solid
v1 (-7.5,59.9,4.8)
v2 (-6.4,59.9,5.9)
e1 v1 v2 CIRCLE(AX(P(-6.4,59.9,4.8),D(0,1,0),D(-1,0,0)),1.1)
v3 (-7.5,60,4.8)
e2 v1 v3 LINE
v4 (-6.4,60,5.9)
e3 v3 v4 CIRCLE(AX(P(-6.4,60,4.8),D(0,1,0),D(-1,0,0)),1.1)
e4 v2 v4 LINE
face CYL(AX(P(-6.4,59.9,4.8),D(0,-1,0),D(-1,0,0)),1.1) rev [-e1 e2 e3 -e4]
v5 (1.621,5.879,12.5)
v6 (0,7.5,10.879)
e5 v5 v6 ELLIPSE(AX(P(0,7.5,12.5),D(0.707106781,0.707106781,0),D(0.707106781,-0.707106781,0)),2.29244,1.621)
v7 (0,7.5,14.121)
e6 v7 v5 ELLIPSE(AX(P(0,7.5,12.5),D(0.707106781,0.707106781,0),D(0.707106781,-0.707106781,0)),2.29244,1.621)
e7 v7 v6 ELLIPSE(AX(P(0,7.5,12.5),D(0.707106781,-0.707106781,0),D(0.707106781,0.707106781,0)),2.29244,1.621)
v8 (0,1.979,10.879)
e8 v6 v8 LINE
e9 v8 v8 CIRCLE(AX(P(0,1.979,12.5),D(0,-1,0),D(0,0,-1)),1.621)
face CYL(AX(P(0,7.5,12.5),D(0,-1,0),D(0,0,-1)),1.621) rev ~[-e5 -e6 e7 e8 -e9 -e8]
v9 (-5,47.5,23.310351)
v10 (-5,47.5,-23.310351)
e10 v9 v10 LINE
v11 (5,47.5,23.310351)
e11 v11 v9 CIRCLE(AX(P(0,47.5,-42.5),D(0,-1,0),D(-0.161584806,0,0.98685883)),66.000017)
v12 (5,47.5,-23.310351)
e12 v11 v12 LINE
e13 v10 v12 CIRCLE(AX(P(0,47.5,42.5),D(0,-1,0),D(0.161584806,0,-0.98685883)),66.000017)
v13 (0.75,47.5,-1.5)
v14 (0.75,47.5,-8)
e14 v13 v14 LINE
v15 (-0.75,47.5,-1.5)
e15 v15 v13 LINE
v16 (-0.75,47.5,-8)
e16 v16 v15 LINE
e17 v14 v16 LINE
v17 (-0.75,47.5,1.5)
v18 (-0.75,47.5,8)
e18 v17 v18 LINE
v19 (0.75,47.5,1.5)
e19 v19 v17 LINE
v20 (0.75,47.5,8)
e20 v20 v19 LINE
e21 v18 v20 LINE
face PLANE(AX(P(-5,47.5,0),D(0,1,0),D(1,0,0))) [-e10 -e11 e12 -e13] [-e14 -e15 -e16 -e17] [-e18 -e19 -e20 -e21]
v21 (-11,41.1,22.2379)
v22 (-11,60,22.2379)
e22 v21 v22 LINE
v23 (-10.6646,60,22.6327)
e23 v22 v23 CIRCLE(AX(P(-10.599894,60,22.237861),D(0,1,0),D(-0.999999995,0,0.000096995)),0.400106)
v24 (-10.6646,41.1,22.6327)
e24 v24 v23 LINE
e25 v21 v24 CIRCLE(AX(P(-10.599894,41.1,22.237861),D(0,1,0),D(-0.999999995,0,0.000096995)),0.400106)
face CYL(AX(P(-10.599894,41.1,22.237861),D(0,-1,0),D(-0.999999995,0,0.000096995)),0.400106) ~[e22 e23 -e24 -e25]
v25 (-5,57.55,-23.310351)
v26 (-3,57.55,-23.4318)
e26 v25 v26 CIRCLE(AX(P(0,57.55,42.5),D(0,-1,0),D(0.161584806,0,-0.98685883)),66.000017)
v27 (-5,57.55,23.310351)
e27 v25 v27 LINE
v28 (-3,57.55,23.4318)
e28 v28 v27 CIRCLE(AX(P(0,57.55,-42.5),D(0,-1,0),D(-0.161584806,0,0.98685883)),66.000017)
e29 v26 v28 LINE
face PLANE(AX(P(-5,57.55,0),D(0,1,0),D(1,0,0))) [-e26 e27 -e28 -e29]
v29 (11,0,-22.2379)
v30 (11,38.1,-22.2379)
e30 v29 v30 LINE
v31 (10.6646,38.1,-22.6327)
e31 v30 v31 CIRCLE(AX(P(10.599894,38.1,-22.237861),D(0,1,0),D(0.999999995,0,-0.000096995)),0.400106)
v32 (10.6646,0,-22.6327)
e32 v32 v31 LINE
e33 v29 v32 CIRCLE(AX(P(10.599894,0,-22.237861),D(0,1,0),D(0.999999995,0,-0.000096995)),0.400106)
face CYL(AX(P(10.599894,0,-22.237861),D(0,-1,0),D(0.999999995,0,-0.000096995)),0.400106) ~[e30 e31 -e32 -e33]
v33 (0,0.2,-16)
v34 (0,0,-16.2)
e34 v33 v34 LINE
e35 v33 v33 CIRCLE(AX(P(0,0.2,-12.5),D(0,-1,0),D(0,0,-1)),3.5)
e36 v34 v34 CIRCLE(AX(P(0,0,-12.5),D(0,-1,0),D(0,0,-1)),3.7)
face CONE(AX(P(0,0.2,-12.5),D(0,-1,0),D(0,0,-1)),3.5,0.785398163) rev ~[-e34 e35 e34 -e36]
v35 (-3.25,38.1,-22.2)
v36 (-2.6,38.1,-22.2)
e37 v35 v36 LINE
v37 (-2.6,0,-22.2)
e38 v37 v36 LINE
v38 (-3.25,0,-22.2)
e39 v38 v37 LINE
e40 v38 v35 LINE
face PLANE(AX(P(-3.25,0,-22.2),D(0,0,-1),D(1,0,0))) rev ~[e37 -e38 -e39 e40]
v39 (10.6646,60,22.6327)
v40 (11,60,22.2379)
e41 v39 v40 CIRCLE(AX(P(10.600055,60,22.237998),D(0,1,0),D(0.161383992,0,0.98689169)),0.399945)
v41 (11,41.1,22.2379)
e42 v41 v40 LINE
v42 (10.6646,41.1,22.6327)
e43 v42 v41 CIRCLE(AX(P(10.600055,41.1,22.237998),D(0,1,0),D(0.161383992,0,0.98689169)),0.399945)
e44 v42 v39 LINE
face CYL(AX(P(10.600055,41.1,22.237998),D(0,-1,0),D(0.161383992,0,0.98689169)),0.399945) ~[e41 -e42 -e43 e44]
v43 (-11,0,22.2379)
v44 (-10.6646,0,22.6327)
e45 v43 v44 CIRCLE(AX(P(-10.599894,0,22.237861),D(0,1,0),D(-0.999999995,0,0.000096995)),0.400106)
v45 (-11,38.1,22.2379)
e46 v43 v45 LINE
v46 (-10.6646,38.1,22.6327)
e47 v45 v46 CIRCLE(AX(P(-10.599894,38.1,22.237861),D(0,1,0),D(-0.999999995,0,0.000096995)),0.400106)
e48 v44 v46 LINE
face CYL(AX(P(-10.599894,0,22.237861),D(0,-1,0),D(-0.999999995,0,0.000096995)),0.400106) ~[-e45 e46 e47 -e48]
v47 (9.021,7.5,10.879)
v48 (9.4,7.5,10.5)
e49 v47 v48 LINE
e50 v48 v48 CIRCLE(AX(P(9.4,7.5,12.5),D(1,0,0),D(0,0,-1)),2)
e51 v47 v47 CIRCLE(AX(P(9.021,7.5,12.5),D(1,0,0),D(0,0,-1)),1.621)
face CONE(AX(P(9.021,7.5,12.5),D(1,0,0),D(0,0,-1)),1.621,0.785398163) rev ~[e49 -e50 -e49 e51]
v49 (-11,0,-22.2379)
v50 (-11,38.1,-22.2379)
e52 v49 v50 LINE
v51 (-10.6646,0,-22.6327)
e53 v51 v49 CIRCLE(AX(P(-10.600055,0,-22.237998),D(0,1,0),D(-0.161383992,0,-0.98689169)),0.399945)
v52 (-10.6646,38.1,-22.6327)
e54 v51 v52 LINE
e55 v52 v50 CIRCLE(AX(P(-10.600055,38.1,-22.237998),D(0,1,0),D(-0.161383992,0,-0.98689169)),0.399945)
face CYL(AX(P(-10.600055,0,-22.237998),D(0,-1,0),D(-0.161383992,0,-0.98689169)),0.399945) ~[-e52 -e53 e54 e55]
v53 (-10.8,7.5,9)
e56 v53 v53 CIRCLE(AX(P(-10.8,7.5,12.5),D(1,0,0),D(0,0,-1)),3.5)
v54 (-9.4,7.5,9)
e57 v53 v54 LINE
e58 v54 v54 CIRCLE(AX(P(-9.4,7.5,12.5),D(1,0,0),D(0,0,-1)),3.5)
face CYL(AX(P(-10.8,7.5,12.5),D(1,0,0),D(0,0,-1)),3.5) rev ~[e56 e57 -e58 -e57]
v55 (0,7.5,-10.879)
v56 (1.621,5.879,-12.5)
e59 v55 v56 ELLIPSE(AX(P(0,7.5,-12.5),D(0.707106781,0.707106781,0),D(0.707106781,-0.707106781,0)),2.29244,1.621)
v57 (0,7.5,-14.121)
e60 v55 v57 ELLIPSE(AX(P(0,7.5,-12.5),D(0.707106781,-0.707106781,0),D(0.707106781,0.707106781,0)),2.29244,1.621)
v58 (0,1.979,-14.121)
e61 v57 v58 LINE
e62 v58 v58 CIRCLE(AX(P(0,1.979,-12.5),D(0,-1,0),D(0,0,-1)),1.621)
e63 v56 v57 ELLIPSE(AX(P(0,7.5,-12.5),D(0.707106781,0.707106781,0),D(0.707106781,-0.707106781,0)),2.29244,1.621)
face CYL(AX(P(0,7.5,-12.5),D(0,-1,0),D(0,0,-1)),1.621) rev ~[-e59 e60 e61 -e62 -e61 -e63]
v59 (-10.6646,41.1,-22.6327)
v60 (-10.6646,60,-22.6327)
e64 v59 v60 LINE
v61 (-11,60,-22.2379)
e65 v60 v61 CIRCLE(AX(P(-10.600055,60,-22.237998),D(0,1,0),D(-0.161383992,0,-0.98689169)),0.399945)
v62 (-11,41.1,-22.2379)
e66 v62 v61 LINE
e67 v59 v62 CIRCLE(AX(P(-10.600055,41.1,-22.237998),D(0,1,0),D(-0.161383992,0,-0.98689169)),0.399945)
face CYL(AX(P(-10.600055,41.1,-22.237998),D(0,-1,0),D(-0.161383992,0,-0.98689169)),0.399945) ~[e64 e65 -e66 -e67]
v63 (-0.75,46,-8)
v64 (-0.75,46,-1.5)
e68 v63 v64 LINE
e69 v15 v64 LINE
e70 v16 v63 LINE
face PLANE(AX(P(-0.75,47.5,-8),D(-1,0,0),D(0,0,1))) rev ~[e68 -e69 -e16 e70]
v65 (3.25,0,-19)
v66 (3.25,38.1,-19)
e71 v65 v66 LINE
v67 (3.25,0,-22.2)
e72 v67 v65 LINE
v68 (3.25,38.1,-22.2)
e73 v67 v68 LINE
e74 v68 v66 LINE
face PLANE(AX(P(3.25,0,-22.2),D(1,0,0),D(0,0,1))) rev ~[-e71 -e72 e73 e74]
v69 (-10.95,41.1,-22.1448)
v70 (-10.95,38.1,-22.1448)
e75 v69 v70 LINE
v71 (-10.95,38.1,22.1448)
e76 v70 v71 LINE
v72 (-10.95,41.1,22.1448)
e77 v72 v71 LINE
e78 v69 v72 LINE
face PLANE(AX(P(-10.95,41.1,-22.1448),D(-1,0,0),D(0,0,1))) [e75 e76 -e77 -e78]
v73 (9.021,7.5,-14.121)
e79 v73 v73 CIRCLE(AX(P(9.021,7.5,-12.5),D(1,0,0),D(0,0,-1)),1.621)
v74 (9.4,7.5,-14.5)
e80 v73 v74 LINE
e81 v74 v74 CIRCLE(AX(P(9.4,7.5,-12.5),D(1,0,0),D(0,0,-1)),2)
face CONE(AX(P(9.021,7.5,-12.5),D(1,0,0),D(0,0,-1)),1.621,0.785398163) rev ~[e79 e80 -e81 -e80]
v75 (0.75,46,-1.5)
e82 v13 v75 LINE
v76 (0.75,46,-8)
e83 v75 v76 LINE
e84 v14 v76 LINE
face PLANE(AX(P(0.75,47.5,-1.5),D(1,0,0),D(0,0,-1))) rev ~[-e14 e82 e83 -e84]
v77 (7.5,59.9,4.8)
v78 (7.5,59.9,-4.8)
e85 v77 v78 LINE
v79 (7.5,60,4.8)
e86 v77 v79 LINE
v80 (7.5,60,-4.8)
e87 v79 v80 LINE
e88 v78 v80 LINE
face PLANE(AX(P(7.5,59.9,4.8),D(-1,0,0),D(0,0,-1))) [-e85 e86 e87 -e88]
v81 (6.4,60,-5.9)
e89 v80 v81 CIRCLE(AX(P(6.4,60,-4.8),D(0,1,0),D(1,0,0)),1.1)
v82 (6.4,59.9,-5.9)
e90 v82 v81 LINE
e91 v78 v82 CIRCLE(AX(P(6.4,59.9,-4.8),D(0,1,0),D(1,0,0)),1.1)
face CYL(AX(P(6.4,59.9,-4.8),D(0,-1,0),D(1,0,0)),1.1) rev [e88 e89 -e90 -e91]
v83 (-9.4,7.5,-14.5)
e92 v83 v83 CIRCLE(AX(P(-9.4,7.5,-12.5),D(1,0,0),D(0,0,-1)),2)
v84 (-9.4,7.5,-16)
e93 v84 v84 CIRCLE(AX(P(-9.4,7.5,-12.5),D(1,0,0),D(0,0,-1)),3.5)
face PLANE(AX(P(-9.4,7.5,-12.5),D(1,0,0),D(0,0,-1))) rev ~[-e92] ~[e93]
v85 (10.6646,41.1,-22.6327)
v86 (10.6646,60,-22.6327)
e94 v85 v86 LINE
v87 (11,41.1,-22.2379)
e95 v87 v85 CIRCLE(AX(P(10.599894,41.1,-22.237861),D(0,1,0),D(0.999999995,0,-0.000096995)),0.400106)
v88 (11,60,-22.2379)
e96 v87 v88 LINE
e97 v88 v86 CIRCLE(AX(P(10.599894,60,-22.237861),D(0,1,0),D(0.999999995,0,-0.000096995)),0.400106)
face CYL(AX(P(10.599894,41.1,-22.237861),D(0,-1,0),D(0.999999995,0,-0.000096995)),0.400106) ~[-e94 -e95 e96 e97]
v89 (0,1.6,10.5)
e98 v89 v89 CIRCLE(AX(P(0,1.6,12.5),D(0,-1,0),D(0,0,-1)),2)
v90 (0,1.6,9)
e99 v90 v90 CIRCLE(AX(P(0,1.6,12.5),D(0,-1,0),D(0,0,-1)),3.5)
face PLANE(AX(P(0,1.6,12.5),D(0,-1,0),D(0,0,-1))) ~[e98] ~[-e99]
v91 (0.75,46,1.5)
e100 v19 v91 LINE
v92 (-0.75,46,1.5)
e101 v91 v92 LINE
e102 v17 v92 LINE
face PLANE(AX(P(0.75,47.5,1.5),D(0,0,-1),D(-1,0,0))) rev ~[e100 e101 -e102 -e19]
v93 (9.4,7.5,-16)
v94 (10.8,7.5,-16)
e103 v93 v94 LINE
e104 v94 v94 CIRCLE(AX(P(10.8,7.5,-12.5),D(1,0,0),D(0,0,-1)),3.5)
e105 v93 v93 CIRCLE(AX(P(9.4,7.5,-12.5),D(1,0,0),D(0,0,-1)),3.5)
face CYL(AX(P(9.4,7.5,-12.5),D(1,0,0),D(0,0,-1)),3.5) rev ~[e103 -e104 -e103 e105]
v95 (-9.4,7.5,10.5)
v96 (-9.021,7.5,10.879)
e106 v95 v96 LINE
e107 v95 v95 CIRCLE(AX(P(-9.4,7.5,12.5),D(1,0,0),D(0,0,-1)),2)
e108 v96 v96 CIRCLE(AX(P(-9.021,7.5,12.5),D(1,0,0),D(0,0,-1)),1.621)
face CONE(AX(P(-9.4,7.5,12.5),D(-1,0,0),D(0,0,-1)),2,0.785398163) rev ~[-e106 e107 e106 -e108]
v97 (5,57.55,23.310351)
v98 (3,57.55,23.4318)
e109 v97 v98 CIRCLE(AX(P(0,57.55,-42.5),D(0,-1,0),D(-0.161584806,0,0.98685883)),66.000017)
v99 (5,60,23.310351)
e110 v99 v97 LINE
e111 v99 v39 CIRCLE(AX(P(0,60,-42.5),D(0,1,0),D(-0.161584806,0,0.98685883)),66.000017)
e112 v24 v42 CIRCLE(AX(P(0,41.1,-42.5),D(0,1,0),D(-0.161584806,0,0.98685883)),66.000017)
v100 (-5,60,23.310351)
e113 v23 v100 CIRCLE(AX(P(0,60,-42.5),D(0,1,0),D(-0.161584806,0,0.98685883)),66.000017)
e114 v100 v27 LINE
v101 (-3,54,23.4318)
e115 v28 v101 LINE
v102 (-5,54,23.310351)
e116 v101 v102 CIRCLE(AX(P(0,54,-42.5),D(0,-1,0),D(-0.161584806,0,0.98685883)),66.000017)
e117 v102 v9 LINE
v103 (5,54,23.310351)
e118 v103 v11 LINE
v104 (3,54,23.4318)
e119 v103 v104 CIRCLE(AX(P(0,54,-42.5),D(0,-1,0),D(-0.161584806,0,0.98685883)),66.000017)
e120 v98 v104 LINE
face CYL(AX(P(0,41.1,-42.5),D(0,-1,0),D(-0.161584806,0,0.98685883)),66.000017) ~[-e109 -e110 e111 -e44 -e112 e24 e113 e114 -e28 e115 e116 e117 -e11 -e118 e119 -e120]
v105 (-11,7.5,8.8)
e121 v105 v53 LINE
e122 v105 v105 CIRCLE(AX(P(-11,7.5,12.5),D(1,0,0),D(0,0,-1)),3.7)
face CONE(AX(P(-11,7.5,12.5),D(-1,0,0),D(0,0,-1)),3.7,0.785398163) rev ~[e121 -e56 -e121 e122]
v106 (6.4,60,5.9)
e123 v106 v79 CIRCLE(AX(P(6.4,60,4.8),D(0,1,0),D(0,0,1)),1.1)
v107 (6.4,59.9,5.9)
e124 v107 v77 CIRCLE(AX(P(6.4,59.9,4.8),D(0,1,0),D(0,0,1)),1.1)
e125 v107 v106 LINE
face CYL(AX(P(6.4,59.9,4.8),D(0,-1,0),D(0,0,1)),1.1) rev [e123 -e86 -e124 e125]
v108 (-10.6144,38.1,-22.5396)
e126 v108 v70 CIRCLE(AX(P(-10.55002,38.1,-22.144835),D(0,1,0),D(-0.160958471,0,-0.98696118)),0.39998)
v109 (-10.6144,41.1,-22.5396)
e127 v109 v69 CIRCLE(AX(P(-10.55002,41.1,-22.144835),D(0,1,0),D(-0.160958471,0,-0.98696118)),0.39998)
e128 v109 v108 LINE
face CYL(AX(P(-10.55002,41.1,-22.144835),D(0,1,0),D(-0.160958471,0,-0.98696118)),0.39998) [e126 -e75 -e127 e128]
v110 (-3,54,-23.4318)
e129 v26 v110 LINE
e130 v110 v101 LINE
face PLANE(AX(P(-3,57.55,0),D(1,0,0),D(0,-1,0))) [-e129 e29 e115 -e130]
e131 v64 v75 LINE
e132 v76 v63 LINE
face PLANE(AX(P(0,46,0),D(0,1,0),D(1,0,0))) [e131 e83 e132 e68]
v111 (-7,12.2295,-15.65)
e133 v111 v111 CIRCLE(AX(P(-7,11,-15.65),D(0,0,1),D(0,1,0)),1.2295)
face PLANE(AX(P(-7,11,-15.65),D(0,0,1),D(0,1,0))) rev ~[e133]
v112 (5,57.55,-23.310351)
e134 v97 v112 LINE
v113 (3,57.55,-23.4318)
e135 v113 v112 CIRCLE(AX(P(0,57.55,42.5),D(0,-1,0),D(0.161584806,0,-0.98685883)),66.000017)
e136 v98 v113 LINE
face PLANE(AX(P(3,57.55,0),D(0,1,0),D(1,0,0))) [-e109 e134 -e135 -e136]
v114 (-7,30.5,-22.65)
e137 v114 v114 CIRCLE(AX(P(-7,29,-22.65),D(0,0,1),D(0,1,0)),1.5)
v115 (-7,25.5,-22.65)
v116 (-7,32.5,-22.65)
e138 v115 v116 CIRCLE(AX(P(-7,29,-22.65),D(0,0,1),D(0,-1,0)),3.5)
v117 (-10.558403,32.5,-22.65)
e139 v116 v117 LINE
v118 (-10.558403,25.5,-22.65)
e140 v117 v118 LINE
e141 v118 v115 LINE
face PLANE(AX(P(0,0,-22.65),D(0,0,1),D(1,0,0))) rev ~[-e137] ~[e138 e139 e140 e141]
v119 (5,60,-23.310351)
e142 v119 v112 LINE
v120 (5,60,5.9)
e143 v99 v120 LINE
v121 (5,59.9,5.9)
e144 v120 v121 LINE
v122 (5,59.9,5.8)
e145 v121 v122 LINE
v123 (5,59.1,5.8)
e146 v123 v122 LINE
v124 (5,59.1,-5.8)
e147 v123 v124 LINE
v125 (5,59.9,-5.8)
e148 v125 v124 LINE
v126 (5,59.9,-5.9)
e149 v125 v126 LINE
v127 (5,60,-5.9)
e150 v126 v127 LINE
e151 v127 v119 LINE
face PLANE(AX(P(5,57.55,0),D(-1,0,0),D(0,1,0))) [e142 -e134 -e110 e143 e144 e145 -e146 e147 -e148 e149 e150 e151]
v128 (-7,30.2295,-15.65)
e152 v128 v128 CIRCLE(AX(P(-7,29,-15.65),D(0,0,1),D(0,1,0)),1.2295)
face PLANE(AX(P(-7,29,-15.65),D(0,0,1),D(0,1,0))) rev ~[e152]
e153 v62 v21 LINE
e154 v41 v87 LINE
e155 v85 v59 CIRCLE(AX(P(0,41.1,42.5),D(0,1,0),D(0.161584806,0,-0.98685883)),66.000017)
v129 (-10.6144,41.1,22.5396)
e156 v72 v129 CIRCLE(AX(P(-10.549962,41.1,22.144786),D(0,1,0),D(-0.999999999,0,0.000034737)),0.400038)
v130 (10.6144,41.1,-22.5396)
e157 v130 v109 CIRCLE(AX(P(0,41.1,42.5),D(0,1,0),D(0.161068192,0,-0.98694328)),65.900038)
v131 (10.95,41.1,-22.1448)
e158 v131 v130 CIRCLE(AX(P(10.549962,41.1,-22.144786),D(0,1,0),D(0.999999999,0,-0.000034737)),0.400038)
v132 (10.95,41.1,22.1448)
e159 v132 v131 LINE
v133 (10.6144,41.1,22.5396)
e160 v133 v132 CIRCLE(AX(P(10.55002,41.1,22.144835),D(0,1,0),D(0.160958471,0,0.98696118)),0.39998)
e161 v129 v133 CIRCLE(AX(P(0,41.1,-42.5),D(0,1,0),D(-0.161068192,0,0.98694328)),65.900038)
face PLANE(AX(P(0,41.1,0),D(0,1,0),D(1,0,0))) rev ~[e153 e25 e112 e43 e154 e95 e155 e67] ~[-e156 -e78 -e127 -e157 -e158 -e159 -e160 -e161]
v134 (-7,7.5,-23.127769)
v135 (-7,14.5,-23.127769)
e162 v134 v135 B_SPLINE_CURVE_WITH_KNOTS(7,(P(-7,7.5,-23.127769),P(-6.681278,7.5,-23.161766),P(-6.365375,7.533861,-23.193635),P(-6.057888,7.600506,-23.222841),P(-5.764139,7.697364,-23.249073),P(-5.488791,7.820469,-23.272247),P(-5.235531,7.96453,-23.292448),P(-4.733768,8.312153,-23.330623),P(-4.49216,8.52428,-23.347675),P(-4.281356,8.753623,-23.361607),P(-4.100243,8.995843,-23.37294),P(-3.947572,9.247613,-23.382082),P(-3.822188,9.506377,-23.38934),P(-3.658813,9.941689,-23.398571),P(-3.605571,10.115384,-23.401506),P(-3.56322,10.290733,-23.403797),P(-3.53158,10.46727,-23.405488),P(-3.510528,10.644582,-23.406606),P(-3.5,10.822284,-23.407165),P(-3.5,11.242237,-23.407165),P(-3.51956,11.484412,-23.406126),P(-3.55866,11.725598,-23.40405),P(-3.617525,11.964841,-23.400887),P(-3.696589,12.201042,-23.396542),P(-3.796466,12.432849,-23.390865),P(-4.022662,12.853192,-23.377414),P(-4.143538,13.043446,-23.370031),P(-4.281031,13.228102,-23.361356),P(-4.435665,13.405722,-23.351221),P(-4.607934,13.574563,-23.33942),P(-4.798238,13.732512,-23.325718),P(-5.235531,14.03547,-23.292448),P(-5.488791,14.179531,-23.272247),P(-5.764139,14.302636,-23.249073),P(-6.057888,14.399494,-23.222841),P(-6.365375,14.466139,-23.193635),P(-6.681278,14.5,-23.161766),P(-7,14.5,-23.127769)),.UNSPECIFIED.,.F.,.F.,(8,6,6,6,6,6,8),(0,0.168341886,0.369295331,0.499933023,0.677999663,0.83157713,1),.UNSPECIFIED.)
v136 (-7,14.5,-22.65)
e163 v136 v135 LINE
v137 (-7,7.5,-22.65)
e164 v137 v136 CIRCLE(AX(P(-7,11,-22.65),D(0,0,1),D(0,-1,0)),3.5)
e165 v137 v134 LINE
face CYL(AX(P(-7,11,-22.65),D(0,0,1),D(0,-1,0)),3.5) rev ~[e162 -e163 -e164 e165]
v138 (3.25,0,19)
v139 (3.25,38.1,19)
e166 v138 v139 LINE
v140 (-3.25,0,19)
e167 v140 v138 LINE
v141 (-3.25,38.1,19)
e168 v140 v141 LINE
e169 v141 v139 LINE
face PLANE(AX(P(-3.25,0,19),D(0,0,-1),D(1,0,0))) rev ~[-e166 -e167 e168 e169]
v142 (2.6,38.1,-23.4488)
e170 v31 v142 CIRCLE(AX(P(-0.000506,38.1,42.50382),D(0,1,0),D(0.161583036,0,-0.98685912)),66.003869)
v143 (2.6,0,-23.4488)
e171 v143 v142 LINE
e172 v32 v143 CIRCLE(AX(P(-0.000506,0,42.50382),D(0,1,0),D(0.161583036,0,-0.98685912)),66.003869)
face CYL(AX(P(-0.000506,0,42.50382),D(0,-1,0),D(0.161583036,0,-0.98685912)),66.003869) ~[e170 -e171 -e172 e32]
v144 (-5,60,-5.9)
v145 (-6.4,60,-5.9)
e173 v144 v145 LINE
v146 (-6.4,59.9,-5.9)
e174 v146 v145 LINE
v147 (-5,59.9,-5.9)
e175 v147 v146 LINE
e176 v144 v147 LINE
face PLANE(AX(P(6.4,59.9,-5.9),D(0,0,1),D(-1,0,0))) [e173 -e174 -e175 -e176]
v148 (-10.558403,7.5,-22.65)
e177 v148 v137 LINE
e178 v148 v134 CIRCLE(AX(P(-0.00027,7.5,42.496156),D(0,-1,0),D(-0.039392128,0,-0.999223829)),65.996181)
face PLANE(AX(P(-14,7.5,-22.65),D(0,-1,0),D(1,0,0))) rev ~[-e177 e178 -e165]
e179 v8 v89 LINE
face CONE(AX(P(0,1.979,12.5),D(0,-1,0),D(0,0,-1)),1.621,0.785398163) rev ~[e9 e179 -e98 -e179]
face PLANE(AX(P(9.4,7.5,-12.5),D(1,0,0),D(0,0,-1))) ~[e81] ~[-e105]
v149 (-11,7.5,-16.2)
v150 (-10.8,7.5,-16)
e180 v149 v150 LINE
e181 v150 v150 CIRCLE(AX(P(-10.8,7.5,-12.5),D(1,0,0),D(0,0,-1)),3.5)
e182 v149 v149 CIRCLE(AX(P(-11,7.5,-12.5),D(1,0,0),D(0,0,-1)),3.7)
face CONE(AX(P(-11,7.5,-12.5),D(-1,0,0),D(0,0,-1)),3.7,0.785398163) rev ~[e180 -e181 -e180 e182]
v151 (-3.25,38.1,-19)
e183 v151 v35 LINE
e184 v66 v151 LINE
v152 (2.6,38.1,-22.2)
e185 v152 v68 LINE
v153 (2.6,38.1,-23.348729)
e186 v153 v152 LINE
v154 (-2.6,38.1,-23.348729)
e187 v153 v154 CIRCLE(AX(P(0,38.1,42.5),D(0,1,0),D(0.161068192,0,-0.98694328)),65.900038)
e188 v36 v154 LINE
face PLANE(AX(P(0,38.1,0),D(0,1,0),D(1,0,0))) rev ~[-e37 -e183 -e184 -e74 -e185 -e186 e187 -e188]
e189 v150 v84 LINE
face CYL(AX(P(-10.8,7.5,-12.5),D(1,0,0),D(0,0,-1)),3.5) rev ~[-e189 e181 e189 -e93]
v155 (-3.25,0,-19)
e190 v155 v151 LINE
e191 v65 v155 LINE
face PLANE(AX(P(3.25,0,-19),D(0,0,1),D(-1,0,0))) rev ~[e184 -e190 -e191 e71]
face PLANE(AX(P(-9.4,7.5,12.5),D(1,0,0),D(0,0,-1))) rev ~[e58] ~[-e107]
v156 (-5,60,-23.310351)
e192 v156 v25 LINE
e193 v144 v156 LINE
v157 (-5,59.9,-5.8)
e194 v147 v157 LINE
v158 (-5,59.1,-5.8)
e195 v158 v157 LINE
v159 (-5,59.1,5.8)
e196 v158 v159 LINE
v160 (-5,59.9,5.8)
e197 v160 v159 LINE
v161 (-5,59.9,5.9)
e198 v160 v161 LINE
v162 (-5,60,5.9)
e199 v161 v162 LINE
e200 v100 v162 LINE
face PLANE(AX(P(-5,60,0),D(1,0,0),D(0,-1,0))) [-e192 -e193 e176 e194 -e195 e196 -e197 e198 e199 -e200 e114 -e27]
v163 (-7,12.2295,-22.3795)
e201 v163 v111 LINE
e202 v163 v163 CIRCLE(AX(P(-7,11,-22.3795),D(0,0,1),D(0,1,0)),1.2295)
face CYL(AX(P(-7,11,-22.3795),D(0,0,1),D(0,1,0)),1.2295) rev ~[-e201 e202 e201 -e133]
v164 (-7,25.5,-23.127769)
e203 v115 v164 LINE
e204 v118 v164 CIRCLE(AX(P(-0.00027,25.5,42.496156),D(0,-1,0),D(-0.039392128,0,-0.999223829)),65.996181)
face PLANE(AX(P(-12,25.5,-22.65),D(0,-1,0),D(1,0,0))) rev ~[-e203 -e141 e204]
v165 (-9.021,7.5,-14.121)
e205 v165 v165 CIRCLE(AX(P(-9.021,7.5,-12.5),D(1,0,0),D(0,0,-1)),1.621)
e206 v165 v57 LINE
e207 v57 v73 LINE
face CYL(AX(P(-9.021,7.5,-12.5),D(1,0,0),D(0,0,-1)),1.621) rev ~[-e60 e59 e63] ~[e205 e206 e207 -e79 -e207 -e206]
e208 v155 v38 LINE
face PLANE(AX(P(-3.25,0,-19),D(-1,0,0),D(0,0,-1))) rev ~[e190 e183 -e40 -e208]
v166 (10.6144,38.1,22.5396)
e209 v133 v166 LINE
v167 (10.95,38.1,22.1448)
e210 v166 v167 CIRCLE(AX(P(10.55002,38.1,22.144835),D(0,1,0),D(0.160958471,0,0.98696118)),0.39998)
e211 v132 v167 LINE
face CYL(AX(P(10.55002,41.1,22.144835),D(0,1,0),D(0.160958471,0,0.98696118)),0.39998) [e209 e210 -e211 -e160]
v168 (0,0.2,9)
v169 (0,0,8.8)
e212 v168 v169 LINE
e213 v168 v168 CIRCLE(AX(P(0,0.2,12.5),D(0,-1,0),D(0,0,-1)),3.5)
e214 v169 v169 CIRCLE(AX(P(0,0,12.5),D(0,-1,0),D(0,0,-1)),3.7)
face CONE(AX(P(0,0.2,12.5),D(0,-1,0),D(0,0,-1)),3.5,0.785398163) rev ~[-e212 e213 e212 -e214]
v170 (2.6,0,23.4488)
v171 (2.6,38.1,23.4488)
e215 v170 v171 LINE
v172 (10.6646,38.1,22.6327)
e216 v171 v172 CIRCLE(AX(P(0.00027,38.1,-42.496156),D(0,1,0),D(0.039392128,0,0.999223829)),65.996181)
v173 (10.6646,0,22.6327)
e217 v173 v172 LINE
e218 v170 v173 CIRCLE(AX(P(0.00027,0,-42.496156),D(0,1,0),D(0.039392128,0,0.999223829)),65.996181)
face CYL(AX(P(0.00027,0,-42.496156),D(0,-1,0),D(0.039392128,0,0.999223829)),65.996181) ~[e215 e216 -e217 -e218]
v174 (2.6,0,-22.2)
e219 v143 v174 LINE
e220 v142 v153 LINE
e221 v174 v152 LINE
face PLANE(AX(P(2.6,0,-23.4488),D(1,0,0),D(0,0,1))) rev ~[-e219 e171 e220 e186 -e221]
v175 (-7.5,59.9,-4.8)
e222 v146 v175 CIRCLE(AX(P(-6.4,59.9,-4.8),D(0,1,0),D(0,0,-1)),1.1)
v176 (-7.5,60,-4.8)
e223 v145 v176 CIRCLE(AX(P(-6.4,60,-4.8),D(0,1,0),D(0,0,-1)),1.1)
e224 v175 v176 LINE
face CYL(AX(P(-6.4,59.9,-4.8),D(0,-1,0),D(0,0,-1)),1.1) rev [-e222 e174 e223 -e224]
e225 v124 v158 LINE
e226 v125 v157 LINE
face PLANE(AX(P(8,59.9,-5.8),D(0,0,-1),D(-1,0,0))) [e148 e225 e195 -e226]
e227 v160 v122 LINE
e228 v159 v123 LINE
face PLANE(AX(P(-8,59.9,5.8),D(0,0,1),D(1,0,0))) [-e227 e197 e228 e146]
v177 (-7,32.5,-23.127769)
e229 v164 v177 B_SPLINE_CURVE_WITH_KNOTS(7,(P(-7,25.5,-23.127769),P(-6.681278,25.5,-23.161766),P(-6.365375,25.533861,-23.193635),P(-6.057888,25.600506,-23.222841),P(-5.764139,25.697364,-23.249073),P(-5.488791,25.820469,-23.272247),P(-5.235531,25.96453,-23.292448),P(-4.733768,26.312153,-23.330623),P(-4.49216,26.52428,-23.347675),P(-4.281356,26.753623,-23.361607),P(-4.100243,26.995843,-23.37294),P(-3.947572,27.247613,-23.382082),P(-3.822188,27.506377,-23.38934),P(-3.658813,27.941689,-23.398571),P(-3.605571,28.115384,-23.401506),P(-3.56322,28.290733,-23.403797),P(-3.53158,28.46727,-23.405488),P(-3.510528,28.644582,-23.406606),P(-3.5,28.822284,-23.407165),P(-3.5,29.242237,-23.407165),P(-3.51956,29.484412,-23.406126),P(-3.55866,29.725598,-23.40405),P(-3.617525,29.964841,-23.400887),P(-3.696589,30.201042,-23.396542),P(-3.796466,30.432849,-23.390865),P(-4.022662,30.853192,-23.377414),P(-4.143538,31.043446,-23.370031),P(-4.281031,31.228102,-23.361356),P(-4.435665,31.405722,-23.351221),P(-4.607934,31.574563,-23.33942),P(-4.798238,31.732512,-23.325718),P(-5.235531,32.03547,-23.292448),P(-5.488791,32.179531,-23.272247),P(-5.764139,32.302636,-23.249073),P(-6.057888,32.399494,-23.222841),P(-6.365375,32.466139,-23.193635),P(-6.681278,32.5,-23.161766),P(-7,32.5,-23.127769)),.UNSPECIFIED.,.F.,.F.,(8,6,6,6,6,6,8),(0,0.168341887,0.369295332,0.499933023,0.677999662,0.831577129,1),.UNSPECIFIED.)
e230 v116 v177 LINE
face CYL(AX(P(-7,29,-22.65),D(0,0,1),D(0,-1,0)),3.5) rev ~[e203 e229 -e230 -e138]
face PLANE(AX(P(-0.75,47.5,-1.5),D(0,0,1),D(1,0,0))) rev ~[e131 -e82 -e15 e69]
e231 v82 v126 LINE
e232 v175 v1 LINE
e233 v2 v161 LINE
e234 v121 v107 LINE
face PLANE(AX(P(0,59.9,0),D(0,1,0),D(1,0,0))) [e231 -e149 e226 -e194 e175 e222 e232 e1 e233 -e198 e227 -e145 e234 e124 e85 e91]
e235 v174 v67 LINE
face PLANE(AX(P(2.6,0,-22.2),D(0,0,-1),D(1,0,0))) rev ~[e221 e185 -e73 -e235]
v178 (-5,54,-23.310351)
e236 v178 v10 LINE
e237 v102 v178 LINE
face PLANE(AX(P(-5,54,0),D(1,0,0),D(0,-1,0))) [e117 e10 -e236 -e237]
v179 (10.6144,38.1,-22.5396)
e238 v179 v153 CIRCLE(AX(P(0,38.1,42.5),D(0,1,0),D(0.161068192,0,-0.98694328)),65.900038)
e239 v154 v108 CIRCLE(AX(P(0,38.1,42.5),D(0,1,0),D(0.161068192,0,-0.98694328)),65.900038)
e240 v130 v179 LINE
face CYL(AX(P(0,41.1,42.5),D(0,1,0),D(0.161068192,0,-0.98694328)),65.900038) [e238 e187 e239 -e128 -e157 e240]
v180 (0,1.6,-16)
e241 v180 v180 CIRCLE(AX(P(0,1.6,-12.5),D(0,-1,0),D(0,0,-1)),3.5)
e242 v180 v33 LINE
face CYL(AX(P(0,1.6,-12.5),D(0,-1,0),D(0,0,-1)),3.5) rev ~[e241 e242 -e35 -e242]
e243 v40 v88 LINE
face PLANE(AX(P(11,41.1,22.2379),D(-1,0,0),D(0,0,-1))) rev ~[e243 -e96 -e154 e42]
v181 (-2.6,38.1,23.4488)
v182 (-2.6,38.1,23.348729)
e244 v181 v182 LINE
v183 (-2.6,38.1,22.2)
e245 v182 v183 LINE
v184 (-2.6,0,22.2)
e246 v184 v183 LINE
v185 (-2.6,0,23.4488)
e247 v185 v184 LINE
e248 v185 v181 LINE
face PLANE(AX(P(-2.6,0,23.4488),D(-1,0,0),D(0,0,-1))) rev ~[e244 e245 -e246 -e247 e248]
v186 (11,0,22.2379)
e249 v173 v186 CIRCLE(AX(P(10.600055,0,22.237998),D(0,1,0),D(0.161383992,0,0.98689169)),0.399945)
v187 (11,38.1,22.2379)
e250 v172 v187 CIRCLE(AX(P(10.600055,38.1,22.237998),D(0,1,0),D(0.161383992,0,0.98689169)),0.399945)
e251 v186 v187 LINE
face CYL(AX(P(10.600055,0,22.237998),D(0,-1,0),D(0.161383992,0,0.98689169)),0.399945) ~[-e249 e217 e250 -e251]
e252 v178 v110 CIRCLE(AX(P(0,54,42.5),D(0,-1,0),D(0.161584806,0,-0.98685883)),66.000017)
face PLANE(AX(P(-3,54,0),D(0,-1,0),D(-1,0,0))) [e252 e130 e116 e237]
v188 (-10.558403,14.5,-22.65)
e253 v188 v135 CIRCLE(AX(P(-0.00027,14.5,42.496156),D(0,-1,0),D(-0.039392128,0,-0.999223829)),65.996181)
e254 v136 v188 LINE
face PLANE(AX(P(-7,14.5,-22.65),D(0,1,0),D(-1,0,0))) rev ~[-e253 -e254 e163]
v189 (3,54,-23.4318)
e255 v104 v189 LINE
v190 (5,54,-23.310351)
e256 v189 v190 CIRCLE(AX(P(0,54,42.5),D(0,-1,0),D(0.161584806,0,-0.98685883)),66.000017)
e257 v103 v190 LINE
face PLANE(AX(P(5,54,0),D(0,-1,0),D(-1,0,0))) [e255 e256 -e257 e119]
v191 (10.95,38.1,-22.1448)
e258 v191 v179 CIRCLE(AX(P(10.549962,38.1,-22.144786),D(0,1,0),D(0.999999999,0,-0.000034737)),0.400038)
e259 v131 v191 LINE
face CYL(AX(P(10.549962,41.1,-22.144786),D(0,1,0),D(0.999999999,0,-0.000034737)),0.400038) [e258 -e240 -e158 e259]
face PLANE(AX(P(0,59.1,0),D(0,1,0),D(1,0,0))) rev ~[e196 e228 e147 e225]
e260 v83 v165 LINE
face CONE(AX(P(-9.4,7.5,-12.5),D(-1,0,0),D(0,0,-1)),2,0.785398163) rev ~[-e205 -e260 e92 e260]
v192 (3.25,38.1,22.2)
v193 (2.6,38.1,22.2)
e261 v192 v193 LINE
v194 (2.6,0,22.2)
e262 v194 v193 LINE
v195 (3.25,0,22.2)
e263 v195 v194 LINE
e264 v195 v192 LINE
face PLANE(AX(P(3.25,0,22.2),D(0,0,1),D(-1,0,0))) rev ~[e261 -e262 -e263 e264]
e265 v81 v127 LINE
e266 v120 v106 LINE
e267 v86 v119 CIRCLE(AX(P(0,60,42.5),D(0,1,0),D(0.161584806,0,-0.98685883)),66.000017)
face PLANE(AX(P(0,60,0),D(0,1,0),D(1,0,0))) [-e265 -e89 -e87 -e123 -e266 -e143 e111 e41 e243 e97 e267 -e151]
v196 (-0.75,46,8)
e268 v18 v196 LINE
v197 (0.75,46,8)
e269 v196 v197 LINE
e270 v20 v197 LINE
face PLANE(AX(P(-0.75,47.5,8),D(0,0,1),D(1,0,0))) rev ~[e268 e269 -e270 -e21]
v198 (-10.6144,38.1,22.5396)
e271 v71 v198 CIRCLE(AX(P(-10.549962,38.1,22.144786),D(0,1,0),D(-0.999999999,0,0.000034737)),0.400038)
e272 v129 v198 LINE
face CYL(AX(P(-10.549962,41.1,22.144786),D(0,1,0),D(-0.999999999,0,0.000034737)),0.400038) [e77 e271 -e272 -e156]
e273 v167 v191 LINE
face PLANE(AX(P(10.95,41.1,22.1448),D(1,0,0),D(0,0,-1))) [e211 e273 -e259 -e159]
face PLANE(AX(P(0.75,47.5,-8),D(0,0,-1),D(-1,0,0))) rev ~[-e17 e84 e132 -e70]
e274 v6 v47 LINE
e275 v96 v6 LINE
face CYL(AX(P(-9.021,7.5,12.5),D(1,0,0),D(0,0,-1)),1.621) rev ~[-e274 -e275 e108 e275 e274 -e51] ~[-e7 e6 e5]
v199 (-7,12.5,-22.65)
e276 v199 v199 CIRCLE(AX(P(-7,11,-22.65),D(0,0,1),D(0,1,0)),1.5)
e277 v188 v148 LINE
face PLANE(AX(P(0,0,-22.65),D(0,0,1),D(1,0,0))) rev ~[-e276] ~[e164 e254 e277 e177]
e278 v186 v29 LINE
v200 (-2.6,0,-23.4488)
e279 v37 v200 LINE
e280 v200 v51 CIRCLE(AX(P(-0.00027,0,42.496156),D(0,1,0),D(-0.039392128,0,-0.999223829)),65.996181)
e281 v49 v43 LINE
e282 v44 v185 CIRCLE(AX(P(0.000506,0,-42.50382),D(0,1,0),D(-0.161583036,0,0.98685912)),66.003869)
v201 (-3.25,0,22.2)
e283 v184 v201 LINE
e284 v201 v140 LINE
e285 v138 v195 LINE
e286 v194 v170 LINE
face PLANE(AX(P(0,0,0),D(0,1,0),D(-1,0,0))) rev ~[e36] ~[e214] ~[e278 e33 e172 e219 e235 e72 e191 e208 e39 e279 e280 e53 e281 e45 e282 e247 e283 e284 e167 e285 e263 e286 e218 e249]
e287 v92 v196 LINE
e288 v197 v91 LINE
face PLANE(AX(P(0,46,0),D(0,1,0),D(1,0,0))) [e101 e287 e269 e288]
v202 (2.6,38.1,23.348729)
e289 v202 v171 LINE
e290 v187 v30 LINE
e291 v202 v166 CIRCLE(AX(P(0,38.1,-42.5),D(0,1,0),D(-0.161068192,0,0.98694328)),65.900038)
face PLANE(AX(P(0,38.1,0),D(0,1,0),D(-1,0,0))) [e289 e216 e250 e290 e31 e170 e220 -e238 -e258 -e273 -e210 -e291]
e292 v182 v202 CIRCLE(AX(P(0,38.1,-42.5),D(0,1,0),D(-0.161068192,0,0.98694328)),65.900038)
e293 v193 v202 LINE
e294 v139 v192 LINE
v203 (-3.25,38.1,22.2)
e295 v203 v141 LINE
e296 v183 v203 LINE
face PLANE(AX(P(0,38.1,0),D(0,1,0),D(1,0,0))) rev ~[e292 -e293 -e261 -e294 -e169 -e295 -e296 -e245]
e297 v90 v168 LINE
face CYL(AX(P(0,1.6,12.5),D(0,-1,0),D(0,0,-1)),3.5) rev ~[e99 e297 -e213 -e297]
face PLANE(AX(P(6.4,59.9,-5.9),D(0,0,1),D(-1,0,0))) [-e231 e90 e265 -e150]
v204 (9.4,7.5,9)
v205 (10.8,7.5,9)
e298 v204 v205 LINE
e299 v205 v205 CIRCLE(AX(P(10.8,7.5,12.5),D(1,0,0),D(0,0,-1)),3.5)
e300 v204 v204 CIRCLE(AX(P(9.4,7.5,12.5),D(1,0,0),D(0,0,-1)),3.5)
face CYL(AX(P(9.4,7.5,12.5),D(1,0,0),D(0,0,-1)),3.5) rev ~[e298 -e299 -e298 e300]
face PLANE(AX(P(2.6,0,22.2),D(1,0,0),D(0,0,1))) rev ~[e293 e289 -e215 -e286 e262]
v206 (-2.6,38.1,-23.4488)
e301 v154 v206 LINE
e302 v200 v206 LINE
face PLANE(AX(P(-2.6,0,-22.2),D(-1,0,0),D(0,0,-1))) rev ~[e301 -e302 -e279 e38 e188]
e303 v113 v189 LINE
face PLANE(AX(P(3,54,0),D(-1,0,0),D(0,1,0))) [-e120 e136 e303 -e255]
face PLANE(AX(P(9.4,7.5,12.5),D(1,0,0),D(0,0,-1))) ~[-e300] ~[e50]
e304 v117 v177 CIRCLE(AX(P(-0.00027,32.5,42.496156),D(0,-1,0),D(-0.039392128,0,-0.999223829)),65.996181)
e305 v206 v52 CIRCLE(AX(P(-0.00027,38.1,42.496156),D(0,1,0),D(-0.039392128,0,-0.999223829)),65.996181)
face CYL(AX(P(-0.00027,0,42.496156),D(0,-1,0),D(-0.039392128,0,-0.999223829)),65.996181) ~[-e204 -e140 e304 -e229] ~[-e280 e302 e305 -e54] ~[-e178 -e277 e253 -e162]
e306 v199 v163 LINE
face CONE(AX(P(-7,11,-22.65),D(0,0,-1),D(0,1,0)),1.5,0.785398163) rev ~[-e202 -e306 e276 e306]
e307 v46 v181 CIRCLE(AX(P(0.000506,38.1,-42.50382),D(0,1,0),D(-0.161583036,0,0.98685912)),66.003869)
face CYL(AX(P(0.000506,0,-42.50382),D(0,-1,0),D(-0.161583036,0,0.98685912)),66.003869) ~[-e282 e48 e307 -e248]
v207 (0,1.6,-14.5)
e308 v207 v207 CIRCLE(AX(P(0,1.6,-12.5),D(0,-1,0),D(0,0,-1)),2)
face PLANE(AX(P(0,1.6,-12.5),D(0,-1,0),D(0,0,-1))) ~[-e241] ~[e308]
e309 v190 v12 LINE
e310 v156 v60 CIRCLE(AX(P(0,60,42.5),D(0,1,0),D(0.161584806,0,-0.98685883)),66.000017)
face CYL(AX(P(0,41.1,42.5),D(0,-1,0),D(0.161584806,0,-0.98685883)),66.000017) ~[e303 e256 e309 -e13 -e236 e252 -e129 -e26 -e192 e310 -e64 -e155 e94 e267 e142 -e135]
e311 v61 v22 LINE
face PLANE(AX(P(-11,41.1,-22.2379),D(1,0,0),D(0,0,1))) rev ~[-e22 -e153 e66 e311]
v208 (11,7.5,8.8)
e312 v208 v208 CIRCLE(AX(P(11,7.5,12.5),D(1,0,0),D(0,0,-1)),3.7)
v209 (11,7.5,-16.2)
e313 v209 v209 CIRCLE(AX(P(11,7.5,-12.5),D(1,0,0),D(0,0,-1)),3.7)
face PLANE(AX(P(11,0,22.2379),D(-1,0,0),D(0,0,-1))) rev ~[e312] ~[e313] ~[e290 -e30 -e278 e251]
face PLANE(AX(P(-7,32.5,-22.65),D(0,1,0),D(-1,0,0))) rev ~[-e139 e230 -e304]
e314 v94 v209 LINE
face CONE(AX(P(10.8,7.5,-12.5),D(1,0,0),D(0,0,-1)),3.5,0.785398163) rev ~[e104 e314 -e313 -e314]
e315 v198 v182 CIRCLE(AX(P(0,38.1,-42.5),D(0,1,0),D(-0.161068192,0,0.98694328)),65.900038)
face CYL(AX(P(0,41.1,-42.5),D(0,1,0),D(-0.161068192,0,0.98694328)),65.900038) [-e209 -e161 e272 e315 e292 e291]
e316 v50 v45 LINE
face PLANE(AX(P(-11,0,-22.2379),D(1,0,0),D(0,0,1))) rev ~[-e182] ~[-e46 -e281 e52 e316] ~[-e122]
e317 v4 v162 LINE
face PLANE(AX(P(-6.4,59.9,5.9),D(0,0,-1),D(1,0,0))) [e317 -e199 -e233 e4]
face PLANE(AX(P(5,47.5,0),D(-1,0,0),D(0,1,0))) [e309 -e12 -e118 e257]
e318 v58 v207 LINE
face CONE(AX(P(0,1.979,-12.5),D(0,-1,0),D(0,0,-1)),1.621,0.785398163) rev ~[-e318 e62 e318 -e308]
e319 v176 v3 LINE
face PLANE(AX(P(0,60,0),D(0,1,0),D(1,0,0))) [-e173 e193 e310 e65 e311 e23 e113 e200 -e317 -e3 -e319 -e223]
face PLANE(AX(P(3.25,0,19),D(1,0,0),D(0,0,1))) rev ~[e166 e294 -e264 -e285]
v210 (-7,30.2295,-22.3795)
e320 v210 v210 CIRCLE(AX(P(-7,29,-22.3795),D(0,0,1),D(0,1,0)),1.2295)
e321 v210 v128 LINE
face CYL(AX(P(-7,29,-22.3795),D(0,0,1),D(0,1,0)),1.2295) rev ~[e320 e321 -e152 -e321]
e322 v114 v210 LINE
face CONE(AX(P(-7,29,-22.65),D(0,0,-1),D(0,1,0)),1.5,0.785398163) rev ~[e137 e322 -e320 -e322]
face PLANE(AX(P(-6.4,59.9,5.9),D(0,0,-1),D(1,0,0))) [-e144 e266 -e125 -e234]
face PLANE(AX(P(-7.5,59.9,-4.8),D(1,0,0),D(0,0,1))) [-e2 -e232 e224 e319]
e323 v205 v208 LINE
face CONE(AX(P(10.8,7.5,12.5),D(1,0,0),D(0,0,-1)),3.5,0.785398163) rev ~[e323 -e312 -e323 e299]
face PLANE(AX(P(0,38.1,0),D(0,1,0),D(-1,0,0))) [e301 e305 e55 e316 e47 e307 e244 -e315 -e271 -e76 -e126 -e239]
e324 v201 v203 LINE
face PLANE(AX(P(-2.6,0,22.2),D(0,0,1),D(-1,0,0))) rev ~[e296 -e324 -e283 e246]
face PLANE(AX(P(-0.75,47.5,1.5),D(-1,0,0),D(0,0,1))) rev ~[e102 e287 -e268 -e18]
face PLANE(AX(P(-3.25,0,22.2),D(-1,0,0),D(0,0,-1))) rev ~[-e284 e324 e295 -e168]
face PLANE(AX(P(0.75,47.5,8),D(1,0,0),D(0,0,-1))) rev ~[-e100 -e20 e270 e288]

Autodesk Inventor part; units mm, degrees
sketch "Sketch_1" plane through (0, 0, 0) normal (0, 1, 0) x (-1, 0, 0)
  line L0 (11, -22.2379) -> (11, 22.2379)
  arc A0 (11, 22.2379) -> (10.6646, 22.6327) centre (10.6, 22.2379) ccw
  arc A1 (10.6646, 22.6327) -> (2.6, 23.4488) centre (0, -42.5) ccw
  line L1 (2.6, 23.4488) -> (2.6, 22.2)
  line L2 (2.6, 22.2) -> (3.25, 22.2)
  line L3 (3.25, 22.2) -> (3.25, 19)
  line L4 (3.25, 19) -> (-3.25, 19)
  line L5 (-3.25, 19) -> (-3.25, 22.2)
  line L6 (-3.25, 22.2) -> (-2.6, 22.2)
  line L7 (-2.6, 22.2) -> (-2.6, 23.4488)
  arc A2 (-2.6, 23.4488) -> (-10.6646, 22.6327) centre (0, -42.5) ccw
  arc A3 (-10.6646, 22.6327) -> (-11, 22.2379) centre (-10.6, 22.2379) ccw
  line L8 (-11, 22.2379) -> (-11, -22.2379)
  arc A4 (-11, -22.2379) -> (-10.6646, -22.6327) centre (-10.6, -22.2379) ccw
  arc A5 (-10.6646, -22.6327) -> (-2.6, -23.4488) centre (0, 42.5) ccw
  line L9 (-2.6, -23.4488) -> (-2.6, -22.2)
  line L10 (-2.6, -22.2) -> (-3.25, -22.2)
  line L11 (-3.25, -22.2) -> (-3.25, -19)
  line L12 (-3.25, -19) -> (3.25, -19)
  line L13 (3.25, -19) -> (3.25, -22.2)
  line L14 (3.25, -22.2) -> (2.6, -22.2)
  line L15 (2.6, -22.2) -> (2.6, -23.4488)
  arc A6 (2.6, -23.4488) -> (10.6646, -22.6327) centre (0, 42.5) ccw
  arc A7 (10.6646, -22.6327) -> (11, -22.2379) centre (10.6, -22.2379) ccw
extrude "Extrusion1" add sketch "Sketch_1" along normal blind 38.1
sketch "Sketch_2" plane through (0, 41.1, 0) normal (0, 1, 0) x (1, 0, 0)
  line L0 (-10.95, 22.1448) -> (-10.95, -22.1448)
  arc A0 (-10.95, -22.1448) -> (-10.6144, -22.5396) centre (-10.55, -22.1448) ccw
  arc A1 (-10.6144, -22.5396) -> (10.6144, -22.5396) centre (0, 42.5) ccw
  arc A2 (10.6144, -22.5396) -> (10.95, -22.1448) centre (10.55, -22.1448) ccw
  line L1 (10.95, -22.1448) -> (10.95, 22.1448)
  arc A3 (10.95, 22.1448) -> (10.6144, 22.5396) centre (10.55, 22.1448) ccw
  arc A4 (10.6144, 22.5396) -> (-10.6144, 22.5396) centre (0, -42.5) ccw
  arc A5 (-10.6144, 22.5396) -> (-10.95, 22.1448) centre (-10.55, 22.1448) ccw
extrude "Extrusion2" add sketch "Sketch_2" against normal blind 3
sketch "Sketch_3" plane through (0, 41.1, 0) normal (0, 1, 0) x (1, 0, 0)
  line L0 (-11, 22.2379) -> (-11, -22.2379)
  arc A0 (-11, -22.2379) -> (-10.6646, -22.6327) centre (-10.6, -22.2379) ccw
  arc A1 (-10.6646, -22.6327) -> (10.6646, -22.6327) centre (0, 42.5) ccw
  arc A2 (10.6646, -22.6327) -> (11, -22.2379) centre (10.6, -22.2379) ccw
  line L1 (11, -22.2379) -> (11, 22.2379)
  arc A3 (11, 22.2379) -> (10.6646, 22.6327) centre (10.6, 22.2379) ccw
  arc A4 (10.6646, 22.6327) -> (-10.6646, 22.6327) centre (0, -42.5) ccw
  arc A5 (-10.6646, 22.6327) -> (-11, 22.2379) centre (-10.6, 22.2379) ccw
extrude "Extrusion3" add sketch "Sketch_3" along normal blind 18.9
sketch "Sketch_4" plane through (0, 0, 0) normal (0, 0, 1) x (1, 0, 0)
  line L0 (-5, 57.55) -> (-3, 57.55)
  line L1 (-3, 57.55) -> (-3, 54)
  line L2 (-3, 54) -> (-5, 54)
  line L3 (-5, 54) -> (-5, 47.5)
  line L4 (-5, 47.5) -> (5, 47.5)
  line L5 (5, 47.5) -> (5, 54)
  line L6 (5, 54) -> (3, 54)
  line L7 (3, 54) -> (3, 57.55)
  line L8 (3, 57.55) -> (5, 57.55)
  line L9 (5, 57.55) -> (5, 60)
  line L10 (5, 60) -> (-5, 60)
  line L11 (-5, 60) -> (-5, 57.55)
extrude "Extrusion4" cut sketch "Sketch_4" along normal mid plane 66
sketch "Sketch_5" plane through (0, 59.9, 0) normal (0, 1, 0) x (1, 0, 0)
  line L0 (-8, -5.8) -> (8, -5.8)
  line L1 (8, -5.8) -> (8, 5.8)
  line L2 (8, 5.8) -> (-8, 5.8)
  line L3 (-8, 5.8) -> (-8, -5.8)
extrude "Extrusion5" add sketch "Sketch_5" against normal blind 0.8
sketch "Sketch_15" plane through (0, 59.9, 0) normal (0, 1, 0) x (1, 0, 0)
  line L0 (-7.5, 4.8) -> (-7.5, -4.8)
  arc A0 (-7.5, -4.8) -> (-6.4, -5.9) centre (-6.4, -4.8) ccw
  line L1 (-6.4, -5.9) -> (6.4, -5.9)
  arc A1 (6.4, -5.9) -> (7.5, -4.8) centre (6.4, -4.8) ccw
  line L2 (7.5, -4.8) -> (7.5, 4.8)
  arc A2 (7.5, 4.8) -> (6.4, 5.9) centre (6.4, 4.8) ccw
  line L3 (6.4, 5.9) -> (-6.4, 5.9)
  arc A3 (-6.4, 5.9) -> (-7.5, 4.8) centre (-6.4, 4.8) ccw
extrude "Extrusion6" cut sketch "Sketch_15" along normal blind 0.1
sketch "Sketch_6" plane through (0, 7.5, 0) normal (0, 1, 0) x (1, 0, 0)
  line L0 (11, -12.5) -> (-11, -12.5)
  line L1 (-11, -12.5) -> (-11, -8.8)
  line L2 (-11, -8.8) -> (-10.8, -9)
  line L3 (-10.8, -9) -> (-9.4, -9)
  line L4 (-9.4, -9) -> (-9.4, -10.5)
  line L5 (-9.4, -10.5) -> (-9.021, -10.879)
  line L6 (-9.021, -10.879) -> (9.021, -10.879)
  line L7 (9.021, -10.879) -> (9.4, -10.5)
  line L8 (9.4, -10.5) -> (9.4, -9)
  line L9 (9.4, -9) -> (10.8, -9)
  line L10 (10.8, -9) -> (11, -8.8)
  line L11 (11, -8.8) -> (11, -12.5)
  line L12 (11, -12.5) -> (-11, -12.5)
revolve "Revolution1" cut sketch "Sketch_6" angle 360 about axis through (11, 7.5, 12.5) along (1, 0, 0)
thread "Thread1" size "M4x0.7" class "6H" standard "ISO Metric profile" full length
sketch "Sketch_7" plane through (0, 7.5, 0) normal (0, 1, 0) x (1, 0, 0)
  line L0 (11, 12.5) -> (-11, 12.5)
  line L1 (-11, 12.5) -> (-11, 16.2)
  line L2 (-11, 16.2) -> (-10.8, 16)
  line L3 (-10.8, 16) -> (-9.4, 16)
  line L4 (-9.4, 16) -> (-9.4, 14.5)
  line L5 (-9.4, 14.5) -> (-9.021, 14.121)
  line L6 (-9.021, 14.121) -> (9.021, 14.121)
  line L7 (9.021, 14.121) -> (9.4, 14.5)
  line L8 (9.4, 14.5) -> (9.4, 16)
  line L9 (9.4, 16) -> (10.8, 16)
  line L10 (10.8, 16) -> (11, 16.2)
  line L11 (11, 16.2) -> (11, 12.5)
  line L12 (11, 12.5) -> (-11, 12.5)
revolve "Revolution2" cut sketch "Sketch_7" angle 360 about axis through (11, 7.5, -12.5) along (1, 0, 0)
thread "Thread2" size "M4x0.7" class "6H" standard "ISO Metric profile" full length
sketch "Sketch_8" plane through (0, 0, -22.65) normal (0, 0, 1) x (1, 0, 0)
  line L0 (-14, 7.5) -> (-7, 7.5)
  arc A0 (-7, 7.5) -> (-7, 14.5) centre (-7, 11) ccw
  line L1 (-7, 14.5) -> (-12, 14.5)
  line L2 (-12, 14.5) -> (-12, 25.5)
  line L3 (-12, 25.5) -> (-7, 25.5)
  arc A1 (-7, 25.5) -> (-7, 32.5) centre (-7, 29) ccw
  line L4 (-7, 32.5) -> (-14, 32.5)
  line L5 (-14, 32.5) -> (-14, 7.5)
extrude "Extrusion7" cut sketch "Sketch_8" against normal blind 3
sketch "Sketch10" plane through (0, 0, -22.65) normal (0, 0, -1) x (-1, 0, 0)
  point P0 (7, 11)
hole "Hole1" at (-7, 11, -22.65) direction (0, 0, 1) diameter 2.459 depth 7 countersink diameter 3 countersink angle 90 thread size "M3x0.5" class "6H" standard "ISO Metric profile"
sketch "Sketch11" plane through (0, 0, -22.65) normal (0, 0, -1) x (-1, 0, 0)
  point P0 (7, 29)
hole "Hole2" at (-7, 29, -22.65) direction (0, 0, 1) diameter 2.459 depth 7 countersink diameter 3 countersink angle 90 thread size "M3x0.5" class "6H" standard "ISO Metric profile"
sketch "Sketch_11" plane through (0, 0, 0) normal (1, 0, 0) x (0, 0, -1)
  line L0 (-12.5, 0) -> (-12.5, 7.5)
  line L1 (-12.5, 7.5) -> (-10.879, 7.5)
  line L2 (-10.879, 7.5) -> (-10.879, 1.979)
  line L3 (-10.879, 1.979) -> (-10.5, 1.6)
  line L4 (-10.5, 1.6) -> (-9, 1.6)
  line L5 (-9, 1.6) -> (-9, 0.2)
  line L6 (-9, 0.2) -> (-8.8, 0)
  line L7 (-8.8, 0) -> (-12.5, 0)
  line L8 (-12.5, 0) -> (-12.5, 7.5)
revolve "Revolution3" cut sketch "Sketch_11" angle 360 about axis through (0, 0, 12.5) along (0, -1, 0)
thread "Thread3" size "M4x0.7" class "6H" standard "ISO Metric profile" full length
sketch "Sketch_12" plane through (0, 0, 0) normal (1, 0, 0) x (0, 0, -1)
  line L0 (12.5, 0) -> (12.5, 7.5)
  line L1 (12.5, 7.5) -> (14.121, 7.5)
  line L2 (14.121, 7.5) -> (14.121, 1.979)
  line L3 (14.121, 1.979) -> (14.5, 1.6)
  line L4 (14.5, 1.6) -> (16, 1.6)
  line L5 (16, 1.6) -> (16, 0.2)
  line L6 (16, 0.2) -> (16.2, 0)
  line L7 (16.2, 0) -> (12.5, 0)
  line L8 (12.5, 0) -> (12.5, 7.5)
revolve "Revolution4" cut sketch "Sketch_12" angle 360 about axis through (0, 0, -12.5) along (0, -1, 0)
thread "Thread4" size "M4x0.7" class "6H" standard "ISO Metric profile" full length
sketch "Sketch_17" plane through (0, 47.5, 0) normal (0, 1, 0) x (1, 0, 0)
  line L0 (-0.75, 8) -> (-0.75, 1.5)
  line L1 (-0.75, 1.5) -> (0.75, 1.5)
  line L2 (0.75, 1.5) -> (0.75, 8)
  line L3 (0.75, 8) -> (-0.75, 8)
extrude "Extrusion8" cut sketch "Sketch_17" against normal blind 1.5
sketch "Sketch_18" plane through (0, 47.5, 0) normal (0, 1, 0) x (1, 0, 0)
  line L0 (-0.75, -8) -> (0.75, -8)
  line L1 (0.75, -8) -> (0.75, -1.5)
  line L2 (0.75, -1.5) -> (-0.75, -1.5)
  line L3 (-0.75, -1.5) -> (-0.75, -8)
extrude "Extrusion9" cut sketch "Sketch_18" against normal blind 1.5
ref_plane "GEHAEUSE_XY" through (0, 0, 0) normal (0, 1, 0) x (1, 0, 0)
ref_plane "GEHAEUSE_YZ" through (0, 0, 0) normal (1, 0, 0) x (0, 0, -1)
ref_plane "GEHAEUSE_ZX" through (0, 0, 0) normal (0, 0, -1) x (0, 1, 0)
ref_plane "TO_GREIF_XY" through (0, 47.5, 0) normal (0, 0, 1) x (1, 0, 0)
ref_plane "TO_GREIF_YZ" through (0, 47.5, 0) normal (1, 0, 0) x (0, 1, 0)
ref_plane "TO_GREIF_ZX" through (0, 47.5, 0) normal (0, 1, 0) x (0, 0, 1)
ref_plane "TO_GREIF_R_XY" through (0, 47.5, 0) normal (0, 0, -1) x (-1, 0, 0)
ref_plane "TO_GREIF_R_YZ" through (0, 47.5, 0) normal (-1, 0, 0) x (0, 1, 0)
ref_plane "TO_GREIF_R_ZX" through (0, 47.5, 0) normal (0, 1, 0) x (0, 0, -1)
ref_plane "TO_ZBH_1_XY" through (-9.4, 7.5, 12.5) normal (1, 0, 0) x (0, 0, -1)
ref_plane "TO_ZBH_1_YZ" through (-9.4, 7.5, 12.5) normal (0, 0, -1) x (0, 1, 0)
ref_plane "TO_ZBH_1_ZX" through (-9.4, 7.5, 12.5) normal (0, 1, 0) x (1, 0, 0)
ref_plane "TO_ZBH_2_XY" through (-9.4, 7.5, -12.5) normal (1, 0, 0) x (0, 0, -1)
ref_plane "TO_ZBH_2_YZ" through (-9.4, 7.5, -12.5) normal (0, 0, -1) x (0, 1, 0)
ref_plane "TO_ZBH_2_ZX" through (-9.4, 7.5, -12.5) normal (0, 1, 0) x (1, 0, 0)
properties part number "1254044 DHPS-16-A-NO---(Geh)"
